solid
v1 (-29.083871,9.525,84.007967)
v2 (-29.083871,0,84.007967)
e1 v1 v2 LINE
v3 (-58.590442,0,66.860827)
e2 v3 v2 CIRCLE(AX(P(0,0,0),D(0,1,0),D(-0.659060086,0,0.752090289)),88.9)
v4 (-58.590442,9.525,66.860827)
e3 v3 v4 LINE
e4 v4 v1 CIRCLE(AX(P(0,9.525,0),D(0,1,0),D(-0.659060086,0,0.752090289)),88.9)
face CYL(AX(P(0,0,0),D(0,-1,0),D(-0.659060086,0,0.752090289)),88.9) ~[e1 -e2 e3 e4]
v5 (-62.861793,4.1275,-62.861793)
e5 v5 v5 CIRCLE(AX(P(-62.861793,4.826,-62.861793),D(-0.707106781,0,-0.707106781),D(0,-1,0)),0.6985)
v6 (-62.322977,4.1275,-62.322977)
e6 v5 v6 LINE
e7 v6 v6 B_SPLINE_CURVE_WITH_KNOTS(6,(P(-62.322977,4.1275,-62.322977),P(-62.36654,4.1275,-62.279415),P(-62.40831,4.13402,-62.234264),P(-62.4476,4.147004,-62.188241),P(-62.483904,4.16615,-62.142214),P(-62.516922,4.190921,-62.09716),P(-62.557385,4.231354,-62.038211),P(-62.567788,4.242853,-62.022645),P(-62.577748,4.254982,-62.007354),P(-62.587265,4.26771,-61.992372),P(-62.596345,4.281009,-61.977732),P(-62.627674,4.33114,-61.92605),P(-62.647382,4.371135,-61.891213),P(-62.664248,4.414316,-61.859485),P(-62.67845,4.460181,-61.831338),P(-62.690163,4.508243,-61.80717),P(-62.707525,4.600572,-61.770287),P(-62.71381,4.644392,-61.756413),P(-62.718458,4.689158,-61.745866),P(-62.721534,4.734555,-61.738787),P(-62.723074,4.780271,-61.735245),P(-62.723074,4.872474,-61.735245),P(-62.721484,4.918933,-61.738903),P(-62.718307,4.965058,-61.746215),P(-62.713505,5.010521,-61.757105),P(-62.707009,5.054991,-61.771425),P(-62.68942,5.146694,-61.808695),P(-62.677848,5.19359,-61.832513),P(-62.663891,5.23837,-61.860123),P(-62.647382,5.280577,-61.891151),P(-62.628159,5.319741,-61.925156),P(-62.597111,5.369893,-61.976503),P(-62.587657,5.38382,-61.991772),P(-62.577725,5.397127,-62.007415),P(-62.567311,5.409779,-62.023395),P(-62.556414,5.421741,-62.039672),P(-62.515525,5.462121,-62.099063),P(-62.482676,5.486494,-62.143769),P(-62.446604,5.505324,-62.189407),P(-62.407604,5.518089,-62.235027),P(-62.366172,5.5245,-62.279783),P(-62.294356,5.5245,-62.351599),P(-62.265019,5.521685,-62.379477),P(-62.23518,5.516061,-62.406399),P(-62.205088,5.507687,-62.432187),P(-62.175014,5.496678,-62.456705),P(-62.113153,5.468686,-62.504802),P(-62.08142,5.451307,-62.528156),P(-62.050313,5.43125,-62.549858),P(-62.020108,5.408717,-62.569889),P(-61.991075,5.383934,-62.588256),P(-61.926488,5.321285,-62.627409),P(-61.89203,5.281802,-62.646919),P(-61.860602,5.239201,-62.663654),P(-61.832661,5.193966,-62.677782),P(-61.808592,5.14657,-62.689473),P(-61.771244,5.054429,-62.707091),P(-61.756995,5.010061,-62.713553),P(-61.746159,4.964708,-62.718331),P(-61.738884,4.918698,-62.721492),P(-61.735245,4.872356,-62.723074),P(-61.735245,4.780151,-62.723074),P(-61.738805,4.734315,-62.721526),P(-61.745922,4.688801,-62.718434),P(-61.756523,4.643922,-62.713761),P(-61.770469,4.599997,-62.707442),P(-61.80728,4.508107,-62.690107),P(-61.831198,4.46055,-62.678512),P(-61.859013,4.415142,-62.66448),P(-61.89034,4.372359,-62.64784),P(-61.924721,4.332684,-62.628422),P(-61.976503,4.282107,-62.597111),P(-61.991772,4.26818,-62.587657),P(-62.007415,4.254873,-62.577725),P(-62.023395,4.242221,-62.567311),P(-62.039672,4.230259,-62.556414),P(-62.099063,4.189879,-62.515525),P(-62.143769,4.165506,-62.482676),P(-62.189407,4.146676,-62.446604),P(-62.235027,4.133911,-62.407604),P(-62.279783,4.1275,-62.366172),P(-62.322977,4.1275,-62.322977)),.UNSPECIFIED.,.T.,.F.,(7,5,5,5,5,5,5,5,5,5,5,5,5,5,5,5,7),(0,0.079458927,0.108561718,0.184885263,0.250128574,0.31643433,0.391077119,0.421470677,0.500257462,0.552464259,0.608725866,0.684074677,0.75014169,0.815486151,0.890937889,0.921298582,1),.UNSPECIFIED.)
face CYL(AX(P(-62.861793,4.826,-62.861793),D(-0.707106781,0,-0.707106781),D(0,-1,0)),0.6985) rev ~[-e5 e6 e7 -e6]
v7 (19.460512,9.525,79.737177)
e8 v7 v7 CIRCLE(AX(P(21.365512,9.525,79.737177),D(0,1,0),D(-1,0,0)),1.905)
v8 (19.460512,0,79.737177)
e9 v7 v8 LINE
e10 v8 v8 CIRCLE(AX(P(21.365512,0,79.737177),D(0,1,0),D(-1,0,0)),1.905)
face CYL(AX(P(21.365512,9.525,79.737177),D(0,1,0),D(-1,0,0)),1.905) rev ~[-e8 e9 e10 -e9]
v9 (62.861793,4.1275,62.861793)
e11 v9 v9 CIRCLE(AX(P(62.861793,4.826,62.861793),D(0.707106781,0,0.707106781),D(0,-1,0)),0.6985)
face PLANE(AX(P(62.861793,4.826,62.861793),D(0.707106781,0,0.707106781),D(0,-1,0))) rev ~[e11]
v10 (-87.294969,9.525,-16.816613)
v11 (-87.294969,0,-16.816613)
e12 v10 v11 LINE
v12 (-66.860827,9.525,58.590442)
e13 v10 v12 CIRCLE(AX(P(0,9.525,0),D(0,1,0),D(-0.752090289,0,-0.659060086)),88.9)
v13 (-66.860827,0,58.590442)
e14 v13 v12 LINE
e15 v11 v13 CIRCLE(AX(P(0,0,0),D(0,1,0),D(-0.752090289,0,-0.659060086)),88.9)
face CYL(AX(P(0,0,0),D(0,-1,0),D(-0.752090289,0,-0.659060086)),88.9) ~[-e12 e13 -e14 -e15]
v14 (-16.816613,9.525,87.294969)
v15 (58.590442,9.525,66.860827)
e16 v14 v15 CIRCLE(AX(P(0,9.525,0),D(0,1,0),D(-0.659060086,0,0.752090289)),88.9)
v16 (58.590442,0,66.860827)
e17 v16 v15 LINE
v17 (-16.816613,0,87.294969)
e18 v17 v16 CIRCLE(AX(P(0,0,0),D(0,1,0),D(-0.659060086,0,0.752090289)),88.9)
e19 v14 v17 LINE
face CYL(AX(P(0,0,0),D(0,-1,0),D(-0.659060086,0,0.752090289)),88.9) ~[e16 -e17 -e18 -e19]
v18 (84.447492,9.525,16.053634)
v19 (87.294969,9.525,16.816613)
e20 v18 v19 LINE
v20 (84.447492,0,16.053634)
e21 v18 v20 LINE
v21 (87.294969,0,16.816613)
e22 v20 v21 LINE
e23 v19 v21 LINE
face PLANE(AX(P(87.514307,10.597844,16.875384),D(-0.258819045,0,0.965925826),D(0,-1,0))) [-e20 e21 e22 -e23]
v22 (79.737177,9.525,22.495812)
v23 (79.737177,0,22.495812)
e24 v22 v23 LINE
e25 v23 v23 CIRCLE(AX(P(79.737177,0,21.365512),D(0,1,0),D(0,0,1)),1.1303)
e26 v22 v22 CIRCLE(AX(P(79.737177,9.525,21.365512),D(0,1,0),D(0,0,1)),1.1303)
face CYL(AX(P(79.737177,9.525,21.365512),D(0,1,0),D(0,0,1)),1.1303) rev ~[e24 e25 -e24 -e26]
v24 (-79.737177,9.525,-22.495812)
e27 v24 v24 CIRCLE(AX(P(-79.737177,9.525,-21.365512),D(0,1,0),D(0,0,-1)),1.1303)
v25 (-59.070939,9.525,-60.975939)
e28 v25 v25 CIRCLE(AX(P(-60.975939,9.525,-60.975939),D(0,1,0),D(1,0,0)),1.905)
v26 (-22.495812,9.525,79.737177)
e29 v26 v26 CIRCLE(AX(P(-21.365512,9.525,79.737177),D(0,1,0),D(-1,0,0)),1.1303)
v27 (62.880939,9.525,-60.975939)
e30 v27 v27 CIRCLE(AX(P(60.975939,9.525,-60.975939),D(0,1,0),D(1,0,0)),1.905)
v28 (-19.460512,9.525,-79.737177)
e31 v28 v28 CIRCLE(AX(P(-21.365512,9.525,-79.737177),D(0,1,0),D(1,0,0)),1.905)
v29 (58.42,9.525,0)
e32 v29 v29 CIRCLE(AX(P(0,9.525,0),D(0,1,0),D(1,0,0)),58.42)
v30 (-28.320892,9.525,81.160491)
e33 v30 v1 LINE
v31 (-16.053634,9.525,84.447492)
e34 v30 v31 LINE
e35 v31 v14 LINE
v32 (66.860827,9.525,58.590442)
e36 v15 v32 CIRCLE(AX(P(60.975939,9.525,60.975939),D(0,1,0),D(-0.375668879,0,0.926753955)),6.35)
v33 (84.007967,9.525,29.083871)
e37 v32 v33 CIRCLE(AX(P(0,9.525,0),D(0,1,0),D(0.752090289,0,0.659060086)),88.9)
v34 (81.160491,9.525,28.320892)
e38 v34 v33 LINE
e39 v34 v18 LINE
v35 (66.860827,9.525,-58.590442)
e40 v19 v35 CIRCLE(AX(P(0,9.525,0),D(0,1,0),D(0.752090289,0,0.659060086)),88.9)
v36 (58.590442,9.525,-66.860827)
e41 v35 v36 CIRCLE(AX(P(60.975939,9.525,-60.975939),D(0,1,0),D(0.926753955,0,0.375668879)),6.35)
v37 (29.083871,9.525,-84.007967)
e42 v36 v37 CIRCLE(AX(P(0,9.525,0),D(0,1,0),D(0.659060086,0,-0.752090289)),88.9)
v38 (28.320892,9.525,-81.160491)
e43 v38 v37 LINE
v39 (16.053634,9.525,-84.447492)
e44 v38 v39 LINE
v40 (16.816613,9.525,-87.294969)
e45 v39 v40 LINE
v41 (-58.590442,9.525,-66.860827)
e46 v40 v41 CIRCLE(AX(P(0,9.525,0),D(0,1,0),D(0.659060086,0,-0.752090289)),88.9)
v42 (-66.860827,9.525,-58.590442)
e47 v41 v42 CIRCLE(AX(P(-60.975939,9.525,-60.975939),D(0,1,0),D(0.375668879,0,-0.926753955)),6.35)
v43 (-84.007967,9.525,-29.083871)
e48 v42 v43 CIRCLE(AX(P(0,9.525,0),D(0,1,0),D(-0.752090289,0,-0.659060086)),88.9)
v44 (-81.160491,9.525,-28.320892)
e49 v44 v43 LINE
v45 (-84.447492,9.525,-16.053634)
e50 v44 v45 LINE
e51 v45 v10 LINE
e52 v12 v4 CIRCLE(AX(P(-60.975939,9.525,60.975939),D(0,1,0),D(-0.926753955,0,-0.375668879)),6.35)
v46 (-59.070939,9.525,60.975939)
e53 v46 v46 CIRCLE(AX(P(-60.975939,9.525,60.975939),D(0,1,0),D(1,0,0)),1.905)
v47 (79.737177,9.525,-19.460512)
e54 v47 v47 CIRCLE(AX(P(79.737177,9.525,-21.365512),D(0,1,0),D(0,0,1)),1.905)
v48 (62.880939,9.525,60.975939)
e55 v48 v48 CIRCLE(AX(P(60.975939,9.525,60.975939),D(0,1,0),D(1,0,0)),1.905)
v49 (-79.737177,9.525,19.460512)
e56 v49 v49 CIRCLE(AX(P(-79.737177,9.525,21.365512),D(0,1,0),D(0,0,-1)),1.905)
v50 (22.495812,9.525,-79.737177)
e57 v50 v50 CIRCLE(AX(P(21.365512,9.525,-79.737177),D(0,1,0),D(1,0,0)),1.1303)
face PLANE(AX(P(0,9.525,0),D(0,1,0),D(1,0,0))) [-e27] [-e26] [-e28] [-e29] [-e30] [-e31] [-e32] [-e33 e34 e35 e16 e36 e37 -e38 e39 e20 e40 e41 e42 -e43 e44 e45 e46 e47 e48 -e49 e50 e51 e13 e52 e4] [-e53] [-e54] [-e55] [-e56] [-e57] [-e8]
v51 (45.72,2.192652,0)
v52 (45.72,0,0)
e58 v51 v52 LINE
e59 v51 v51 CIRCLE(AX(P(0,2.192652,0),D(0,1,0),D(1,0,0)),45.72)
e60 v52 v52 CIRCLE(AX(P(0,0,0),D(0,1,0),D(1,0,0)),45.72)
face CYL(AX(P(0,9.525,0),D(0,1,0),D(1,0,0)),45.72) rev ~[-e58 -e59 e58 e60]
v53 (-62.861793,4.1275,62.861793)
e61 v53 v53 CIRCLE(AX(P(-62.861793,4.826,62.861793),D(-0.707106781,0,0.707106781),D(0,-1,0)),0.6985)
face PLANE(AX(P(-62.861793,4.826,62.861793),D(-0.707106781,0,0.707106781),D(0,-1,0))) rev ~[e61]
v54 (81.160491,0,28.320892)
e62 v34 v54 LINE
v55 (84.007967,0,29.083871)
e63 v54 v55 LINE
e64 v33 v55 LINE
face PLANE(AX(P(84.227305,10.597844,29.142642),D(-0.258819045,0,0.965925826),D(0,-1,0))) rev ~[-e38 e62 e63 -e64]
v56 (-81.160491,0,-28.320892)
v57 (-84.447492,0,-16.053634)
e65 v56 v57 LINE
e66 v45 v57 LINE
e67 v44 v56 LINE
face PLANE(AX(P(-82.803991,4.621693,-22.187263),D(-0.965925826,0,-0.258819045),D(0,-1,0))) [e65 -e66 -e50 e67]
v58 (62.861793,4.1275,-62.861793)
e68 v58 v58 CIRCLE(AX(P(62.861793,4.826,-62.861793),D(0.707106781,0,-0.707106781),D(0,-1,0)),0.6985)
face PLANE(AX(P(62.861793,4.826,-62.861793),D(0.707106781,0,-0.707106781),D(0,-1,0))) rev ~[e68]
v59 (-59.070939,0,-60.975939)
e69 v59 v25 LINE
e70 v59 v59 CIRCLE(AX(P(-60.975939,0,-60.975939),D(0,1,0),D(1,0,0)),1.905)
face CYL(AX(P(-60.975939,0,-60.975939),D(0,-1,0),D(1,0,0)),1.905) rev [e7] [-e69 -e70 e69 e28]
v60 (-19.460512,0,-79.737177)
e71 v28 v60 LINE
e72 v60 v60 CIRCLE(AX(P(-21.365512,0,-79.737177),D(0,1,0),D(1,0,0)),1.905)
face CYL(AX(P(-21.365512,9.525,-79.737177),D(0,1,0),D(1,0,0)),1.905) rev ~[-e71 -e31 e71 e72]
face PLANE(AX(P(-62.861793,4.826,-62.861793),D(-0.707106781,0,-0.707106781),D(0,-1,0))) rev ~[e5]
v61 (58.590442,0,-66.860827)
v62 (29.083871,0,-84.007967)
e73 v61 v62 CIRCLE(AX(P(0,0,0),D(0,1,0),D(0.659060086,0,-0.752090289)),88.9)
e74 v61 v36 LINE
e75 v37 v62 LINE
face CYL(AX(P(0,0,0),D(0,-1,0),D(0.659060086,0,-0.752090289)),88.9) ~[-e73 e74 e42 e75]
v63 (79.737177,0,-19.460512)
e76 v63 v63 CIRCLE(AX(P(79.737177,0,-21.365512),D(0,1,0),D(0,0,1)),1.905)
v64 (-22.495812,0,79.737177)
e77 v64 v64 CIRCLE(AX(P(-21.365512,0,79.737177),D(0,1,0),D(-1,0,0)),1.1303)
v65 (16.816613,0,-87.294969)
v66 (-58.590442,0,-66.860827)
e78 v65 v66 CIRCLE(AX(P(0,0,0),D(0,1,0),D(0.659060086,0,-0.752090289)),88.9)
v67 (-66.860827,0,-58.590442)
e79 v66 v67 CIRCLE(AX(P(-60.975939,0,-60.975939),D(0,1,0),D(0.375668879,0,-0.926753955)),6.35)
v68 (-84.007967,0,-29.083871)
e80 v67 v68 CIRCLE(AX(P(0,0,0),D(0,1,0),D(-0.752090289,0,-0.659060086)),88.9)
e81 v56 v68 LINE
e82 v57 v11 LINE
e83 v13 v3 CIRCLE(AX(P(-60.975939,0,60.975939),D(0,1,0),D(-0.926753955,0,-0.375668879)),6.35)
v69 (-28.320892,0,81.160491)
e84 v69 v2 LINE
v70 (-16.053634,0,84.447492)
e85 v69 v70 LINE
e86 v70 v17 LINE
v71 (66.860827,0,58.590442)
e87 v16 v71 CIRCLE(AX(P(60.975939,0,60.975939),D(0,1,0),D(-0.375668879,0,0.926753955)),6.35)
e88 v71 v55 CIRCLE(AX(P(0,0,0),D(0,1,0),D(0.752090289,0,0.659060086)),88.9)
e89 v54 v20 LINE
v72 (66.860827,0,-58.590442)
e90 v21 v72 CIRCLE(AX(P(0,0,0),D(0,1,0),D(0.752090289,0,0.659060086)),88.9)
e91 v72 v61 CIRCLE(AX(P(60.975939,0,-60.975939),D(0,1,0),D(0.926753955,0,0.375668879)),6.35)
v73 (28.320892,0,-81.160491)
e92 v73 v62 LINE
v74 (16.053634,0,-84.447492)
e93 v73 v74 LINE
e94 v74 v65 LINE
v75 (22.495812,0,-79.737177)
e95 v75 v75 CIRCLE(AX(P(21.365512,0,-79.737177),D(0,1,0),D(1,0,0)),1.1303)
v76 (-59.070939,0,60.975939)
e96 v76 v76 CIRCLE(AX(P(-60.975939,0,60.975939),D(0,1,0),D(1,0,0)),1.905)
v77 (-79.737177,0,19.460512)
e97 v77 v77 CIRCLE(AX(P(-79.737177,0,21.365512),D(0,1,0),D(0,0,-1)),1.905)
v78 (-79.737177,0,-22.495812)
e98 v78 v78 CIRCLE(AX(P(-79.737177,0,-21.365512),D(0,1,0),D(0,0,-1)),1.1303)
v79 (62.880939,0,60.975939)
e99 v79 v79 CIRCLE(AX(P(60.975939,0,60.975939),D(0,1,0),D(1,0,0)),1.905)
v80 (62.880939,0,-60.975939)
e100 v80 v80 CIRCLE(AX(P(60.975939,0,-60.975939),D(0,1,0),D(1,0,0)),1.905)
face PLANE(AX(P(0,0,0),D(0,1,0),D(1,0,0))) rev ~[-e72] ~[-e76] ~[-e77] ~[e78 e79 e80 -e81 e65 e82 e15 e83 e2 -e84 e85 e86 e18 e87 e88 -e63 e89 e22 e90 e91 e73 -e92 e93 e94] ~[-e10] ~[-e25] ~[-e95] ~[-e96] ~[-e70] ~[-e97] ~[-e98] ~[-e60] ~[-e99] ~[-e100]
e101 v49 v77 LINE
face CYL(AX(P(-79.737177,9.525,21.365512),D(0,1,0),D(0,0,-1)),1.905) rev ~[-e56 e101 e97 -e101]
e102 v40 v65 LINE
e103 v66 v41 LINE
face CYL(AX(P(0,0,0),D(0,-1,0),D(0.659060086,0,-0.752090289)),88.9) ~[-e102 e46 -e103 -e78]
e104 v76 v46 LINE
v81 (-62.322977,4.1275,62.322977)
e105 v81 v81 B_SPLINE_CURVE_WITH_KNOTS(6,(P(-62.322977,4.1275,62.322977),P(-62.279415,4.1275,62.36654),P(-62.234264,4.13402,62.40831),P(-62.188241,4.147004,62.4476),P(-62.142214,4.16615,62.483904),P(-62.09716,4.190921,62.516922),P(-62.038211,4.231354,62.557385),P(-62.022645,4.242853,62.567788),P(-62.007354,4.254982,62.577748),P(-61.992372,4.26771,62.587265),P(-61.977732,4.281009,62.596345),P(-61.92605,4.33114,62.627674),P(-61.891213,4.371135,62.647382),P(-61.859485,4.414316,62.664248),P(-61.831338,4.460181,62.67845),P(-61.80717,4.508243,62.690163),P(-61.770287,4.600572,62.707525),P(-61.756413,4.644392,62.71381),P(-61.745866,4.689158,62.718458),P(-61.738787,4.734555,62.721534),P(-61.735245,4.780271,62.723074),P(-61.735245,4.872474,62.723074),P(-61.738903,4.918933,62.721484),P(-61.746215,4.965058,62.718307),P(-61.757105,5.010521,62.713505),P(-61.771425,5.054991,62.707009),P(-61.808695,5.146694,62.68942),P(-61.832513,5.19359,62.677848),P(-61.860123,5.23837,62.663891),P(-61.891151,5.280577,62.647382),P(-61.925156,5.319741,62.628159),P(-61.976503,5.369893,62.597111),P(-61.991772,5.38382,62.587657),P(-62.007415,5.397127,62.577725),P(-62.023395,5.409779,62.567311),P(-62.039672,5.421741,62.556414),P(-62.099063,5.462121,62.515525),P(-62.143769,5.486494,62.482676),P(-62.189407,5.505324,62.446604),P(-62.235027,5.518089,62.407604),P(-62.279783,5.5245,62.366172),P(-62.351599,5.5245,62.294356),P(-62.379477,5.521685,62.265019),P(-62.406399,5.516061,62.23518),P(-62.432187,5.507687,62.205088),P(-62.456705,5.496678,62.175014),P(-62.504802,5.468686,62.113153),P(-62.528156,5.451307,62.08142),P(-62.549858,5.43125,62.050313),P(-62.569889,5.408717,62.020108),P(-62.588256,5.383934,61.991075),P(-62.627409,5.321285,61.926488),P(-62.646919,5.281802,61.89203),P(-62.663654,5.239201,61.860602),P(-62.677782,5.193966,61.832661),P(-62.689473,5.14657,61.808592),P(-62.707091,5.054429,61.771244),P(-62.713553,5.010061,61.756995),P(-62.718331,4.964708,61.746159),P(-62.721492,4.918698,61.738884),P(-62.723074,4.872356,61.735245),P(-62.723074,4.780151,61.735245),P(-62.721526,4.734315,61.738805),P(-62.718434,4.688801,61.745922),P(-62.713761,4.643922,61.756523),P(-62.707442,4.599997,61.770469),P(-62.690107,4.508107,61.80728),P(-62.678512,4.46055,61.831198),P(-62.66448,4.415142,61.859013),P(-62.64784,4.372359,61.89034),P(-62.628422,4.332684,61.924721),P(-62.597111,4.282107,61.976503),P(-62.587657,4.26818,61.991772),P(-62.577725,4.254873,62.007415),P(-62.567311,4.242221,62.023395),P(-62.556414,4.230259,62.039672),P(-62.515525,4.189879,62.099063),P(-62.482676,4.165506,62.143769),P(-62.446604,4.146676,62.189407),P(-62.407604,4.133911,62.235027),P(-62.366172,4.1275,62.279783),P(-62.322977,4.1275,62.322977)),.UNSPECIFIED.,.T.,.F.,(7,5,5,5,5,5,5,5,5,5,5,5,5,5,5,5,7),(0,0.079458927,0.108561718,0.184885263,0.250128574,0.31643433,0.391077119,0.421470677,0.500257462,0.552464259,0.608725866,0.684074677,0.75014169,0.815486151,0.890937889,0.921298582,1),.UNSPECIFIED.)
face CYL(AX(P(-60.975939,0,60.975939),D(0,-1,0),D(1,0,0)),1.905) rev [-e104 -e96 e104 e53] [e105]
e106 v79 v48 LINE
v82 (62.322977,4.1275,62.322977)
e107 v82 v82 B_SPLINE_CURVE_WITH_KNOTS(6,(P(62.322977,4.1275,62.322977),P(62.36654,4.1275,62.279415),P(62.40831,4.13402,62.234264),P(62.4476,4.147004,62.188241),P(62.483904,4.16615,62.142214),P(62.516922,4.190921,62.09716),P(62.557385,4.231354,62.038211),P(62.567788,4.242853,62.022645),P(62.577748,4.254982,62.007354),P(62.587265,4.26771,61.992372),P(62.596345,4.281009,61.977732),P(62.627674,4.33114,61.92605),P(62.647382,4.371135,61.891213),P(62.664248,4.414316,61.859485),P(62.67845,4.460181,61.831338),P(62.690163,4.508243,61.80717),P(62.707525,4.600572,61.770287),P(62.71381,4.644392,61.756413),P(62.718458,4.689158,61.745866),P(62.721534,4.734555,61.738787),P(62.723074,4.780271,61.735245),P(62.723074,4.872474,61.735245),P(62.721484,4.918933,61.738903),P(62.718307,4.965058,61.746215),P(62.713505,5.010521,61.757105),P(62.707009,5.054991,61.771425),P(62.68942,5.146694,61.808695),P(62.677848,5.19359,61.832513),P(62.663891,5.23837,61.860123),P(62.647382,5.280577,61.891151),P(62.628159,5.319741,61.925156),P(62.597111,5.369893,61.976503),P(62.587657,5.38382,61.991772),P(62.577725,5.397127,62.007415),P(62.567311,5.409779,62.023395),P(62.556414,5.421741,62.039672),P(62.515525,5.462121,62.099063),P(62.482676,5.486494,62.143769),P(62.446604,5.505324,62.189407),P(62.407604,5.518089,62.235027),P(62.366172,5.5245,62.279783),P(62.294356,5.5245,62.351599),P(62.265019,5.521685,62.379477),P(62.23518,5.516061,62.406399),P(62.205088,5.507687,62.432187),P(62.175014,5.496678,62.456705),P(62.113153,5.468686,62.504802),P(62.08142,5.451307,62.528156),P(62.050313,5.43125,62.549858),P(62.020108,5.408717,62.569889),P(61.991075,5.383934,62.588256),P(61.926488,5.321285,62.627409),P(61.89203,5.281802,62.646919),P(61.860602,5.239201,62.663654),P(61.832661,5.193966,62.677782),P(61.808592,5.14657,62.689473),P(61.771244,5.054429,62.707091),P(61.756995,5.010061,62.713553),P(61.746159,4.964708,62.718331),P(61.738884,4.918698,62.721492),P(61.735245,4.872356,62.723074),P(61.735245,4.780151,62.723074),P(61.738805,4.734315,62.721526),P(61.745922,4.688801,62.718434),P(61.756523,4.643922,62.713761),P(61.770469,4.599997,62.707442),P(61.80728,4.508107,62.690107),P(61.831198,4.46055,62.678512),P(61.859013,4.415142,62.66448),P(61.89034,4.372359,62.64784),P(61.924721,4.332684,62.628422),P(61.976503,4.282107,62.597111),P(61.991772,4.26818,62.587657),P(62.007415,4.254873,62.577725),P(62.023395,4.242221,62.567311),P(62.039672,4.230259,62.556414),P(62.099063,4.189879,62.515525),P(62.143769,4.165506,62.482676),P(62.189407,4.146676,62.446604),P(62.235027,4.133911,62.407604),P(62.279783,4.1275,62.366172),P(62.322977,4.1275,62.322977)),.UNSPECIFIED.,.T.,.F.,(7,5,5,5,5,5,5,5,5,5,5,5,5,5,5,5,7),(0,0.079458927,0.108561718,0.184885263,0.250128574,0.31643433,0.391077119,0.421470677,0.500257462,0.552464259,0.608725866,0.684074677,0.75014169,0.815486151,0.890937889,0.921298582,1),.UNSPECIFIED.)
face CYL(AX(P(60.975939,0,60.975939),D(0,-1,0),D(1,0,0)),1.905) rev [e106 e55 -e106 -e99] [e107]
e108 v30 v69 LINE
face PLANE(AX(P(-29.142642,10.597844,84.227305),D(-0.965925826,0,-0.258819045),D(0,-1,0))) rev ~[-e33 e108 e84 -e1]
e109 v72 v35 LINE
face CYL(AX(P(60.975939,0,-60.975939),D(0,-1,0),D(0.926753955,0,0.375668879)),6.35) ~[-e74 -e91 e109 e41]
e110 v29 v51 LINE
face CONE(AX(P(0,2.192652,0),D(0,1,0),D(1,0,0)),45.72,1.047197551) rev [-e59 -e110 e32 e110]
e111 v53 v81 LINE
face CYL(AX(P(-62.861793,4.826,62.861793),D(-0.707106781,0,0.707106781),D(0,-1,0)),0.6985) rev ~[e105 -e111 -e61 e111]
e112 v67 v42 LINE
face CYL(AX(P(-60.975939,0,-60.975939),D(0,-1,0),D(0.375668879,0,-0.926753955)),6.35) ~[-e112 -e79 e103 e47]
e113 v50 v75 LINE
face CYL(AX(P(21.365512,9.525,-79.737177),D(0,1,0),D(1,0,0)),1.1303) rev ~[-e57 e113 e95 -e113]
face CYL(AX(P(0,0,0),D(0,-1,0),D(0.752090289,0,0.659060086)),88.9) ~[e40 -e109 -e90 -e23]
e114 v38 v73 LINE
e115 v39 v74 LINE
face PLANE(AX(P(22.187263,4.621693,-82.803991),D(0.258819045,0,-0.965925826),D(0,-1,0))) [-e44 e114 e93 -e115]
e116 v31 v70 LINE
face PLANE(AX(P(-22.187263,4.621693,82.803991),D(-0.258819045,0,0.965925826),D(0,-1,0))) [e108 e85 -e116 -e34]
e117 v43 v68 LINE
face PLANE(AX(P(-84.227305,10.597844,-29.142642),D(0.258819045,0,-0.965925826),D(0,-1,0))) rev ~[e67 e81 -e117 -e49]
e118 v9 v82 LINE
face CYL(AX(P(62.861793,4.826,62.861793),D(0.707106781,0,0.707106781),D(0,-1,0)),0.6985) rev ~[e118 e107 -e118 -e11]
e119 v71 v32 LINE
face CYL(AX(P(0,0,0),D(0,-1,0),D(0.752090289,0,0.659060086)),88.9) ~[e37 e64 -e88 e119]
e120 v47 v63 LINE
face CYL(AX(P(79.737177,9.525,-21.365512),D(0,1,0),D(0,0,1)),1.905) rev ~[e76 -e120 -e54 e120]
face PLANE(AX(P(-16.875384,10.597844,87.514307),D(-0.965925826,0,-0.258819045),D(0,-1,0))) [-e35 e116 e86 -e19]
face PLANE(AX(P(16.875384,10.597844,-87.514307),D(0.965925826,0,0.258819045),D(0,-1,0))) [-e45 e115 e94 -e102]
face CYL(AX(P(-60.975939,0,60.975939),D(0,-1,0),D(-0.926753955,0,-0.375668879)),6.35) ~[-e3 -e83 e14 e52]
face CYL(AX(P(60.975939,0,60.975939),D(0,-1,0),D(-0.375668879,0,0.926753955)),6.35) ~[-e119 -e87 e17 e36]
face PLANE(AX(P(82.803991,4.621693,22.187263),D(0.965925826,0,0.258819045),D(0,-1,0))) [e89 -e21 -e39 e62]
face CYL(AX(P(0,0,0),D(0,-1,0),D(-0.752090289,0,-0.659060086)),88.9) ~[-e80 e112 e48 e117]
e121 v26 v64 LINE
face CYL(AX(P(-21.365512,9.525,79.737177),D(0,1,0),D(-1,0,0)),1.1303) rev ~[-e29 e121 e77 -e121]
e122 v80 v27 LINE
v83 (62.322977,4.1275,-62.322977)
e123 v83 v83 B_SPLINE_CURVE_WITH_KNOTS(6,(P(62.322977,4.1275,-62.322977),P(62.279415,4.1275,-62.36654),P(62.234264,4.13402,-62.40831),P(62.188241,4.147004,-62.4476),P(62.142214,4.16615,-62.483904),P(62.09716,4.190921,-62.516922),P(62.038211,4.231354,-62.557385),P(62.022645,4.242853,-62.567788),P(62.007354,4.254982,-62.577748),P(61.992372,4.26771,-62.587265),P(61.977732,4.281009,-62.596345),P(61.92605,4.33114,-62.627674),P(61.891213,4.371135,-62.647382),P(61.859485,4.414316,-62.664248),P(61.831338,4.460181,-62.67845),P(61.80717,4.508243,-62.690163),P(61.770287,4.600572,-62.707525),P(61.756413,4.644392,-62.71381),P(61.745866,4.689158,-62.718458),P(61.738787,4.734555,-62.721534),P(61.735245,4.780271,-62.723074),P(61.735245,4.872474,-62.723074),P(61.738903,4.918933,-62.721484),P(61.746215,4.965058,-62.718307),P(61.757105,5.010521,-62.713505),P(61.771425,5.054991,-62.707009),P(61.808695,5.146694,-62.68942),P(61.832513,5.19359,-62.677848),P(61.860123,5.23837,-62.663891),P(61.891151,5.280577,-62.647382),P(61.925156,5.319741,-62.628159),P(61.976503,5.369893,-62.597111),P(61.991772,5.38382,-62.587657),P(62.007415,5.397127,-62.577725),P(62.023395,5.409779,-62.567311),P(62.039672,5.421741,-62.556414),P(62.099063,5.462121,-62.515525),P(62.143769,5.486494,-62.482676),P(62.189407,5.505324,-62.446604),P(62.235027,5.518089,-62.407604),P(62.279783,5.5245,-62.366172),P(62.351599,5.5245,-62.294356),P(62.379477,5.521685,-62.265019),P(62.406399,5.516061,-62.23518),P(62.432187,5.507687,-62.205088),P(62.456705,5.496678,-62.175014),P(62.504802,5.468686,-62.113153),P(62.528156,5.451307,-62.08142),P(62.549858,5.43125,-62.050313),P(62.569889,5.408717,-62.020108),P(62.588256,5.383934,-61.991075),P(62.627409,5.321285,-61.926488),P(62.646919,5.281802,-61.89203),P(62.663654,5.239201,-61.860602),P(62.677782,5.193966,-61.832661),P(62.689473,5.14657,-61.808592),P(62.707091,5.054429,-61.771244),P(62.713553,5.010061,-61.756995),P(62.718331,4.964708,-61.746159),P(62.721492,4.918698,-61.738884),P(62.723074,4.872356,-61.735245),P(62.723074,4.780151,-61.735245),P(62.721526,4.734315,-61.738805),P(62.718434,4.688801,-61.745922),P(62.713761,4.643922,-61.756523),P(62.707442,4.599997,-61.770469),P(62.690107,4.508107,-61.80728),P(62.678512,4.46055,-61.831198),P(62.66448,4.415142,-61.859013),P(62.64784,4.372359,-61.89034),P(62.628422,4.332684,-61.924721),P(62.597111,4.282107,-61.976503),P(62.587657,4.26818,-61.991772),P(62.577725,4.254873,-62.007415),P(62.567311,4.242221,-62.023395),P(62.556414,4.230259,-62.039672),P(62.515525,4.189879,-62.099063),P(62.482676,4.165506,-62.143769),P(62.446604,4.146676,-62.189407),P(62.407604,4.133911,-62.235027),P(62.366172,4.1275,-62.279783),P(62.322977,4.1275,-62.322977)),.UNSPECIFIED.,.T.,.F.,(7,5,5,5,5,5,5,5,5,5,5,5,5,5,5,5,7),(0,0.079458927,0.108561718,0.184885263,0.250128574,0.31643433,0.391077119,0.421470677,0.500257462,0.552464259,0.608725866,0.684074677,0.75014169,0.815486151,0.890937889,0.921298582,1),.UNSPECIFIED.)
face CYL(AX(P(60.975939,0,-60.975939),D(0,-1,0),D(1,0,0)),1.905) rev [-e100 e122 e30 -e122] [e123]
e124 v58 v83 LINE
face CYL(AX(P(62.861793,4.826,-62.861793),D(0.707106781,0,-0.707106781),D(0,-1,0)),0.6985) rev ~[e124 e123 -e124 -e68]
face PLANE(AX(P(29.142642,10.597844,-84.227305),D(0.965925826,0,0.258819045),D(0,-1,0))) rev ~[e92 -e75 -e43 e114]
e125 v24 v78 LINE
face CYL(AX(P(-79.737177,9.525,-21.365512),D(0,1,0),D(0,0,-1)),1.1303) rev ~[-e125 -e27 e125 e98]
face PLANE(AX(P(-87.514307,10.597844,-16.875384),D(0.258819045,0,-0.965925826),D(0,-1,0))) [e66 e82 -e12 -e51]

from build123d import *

# Parameters (mm, degrees)
SKETCH1_R           = 1.905
BOSS_EXTRUDE1_DEPTH = 9.525
SKETCH2_R           = 45.72
CUT_EXTRUDE1_DEPTH  = 12.7
SKETCH10_R          = 0.6985
CUT_EXTRUDE5_DEPTH  = 3.175
CIRPATTERN5_COUNT   = 4
CHAMFER1_SIZE       = 12.7
CHAMFER1_SIZE2      = 7.332348419
SKETCH4_R           = 1.905
CUT_EXTRUDE6_DEPTH  = 10.5250001
CIRPATTERN6_COUNT   = 4
SKETCH13_R          = 1.1303
CUT_EXTRUDE7_DEPTH  = 10.5250001
CIRPATTERN7_COUNT   = 4
SKETCH14_W          = 11.95230377
SKETCH14_H          = 12.7
CUT_EXTRUDE8_DEPTH  = 3.175
CIRPATTERN8_COUNT   = 4


with BuildPart() as part:
    # Sketch1 → Boss-Extrude1 (new body)
    with BuildSketch(Plane(origin=(0, 0, 0), x_dir=(1, 0, 0), z_dir=(0, 1, 0))):
        with BuildLine():
            ThreePointArc((-66.860826677, 58.590441679), (-88.9, 0), (-66.860826677, -58.590441679))
            ThreePointArc((-66.860826677, -58.590441679), (-65.466067123, -65.466067123), (-58.590441679, -66.860826677))
            ThreePointArc((-58.590441679, -66.860826677), (0, -88.9), (58.590441679, -66.860826677))
            ThreePointArc((58.590441679, -66.860826677), (65.466067123, -65.466067123), (66.860826677, -58.590441679))
            ThreePointArc((66.860826677, -58.590441679), (88.9, 0), (66.860826677, 58.590441679))
            ThreePointArc((66.860826677, 58.590441679), (65.466067123, 65.466067123), (58.590441679, 66.860826677))
            ThreePointArc((58.590441679, 66.860826677), (0, 88.9), (-58.590441679, 66.860826677))
            ThreePointArc((-58.590441679, 66.860826677), (-65.466067123, 65.466067123), (-66.860826677, 58.590441679))
        make_face()
        with Locations((-60.975939062, 60.975939062)):
            Circle(SKETCH1_R, mode=Mode.SUBTRACT)
        with Locations((60.975939062, 60.975939062)):
            Circle(SKETCH1_R, mode=Mode.SUBTRACT)
        with Locations((60.975939062, -60.975939062)):
            Circle(SKETCH1_R, mode=Mode.SUBTRACT)
        with Locations((-60.975939062, -60.975939062)):
            Circle(SKETCH1_R, mode=Mode.SUBTRACT)
    extrude(amount=BOSS_EXTRUDE1_DEPTH)

    # Sketch2 → Cut-Extrude1 (cut)
    with BuildSketch(Plane(origin=(0, 9.525, 0), x_dir=(1, 0, 0), z_dir=(0, 1, 0))):
        Circle(SKETCH2_R)
    extrude(amount=-CUT_EXTRUDE1_DEPTH, mode=Mode.SUBTRACT)

    # Sketch10 → Cut-Extrude5 (cut)
    with BuildSketch(Plane(origin=(-62.861792847, 0, -62.861792847), x_dir=(0, -1, 0), z_dir=(-0.707106781, 0, -0.707106781))):
        with Locations((-4.826, 0)):
            Circle(SKETCH10_R)
    cut_extrude5 = extrude(amount=-CUT_EXTRUDE5_DEPTH, mode=Mode.SUBTRACT)

    # CirPattern5: Cut-Extrude5 ×4 about axis
    cirpattern5_axis = Axis((0, 0, 0), (0, 1, 0))
    for i in range(1, CIRPATTERN5_COUNT):
        add(cut_extrude5.rotate(cirpattern5_axis, i * 360 / CIRPATTERN5_COUNT), mode=Mode.SUBTRACT)

    # Chamfer1
    chamfer1_edges = [part.edges().sort_by_distance(p)[0] for p in [
        (-45.72, 9.525, 0),
    ]]
    chamfer1_side = [part.faces().sort_by_distance(p)[0] for p in [
        (0, 9.525, -86.385528286),
    ]]
    chamfer(chamfer1_edges, length=CHAMFER1_SIZE, length2=CHAMFER1_SIZE2, reference=chamfer1_side[0])

    # Sketch4 → Cut-Extrude6 (cut, through all)
    with BuildSketch(Plane(origin=(0, 9.525, 0), x_dir=(1, 0, 0), z_dir=(0, 1, 0))):
        with Locations((-21.365512173, 79.73717696)):
            Circle(SKETCH4_R)
    cut_extrude6 = extrude(amount=-CUT_EXTRUDE6_DEPTH, mode=Mode.SUBTRACT)

    # CirPattern6: Cut-Extrude6 ×4 about axis
    cirpattern6_axis = Axis((0, 0, 0), (0, 1, 0))
    for i in range(1, CIRPATTERN6_COUNT):
        add(cut_extrude6.rotate(cirpattern6_axis, i * 360 / CIRPATTERN6_COUNT), mode=Mode.SUBTRACT)

    # Sketch13 → Cut-Extrude7 (cut, through all)
    with BuildSketch(Plane(origin=(0, 9.525, 0), x_dir=(1, 0, 0), z_dir=(0, 1, 0))):
        with Locations((21.365512173, 79.73717696)):
            Circle(SKETCH13_R)
    cut_extrude7 = extrude(amount=-CUT_EXTRUDE7_DEPTH, mode=Mode.SUBTRACT)

    # CirPattern7: Cut-Extrude7 ×4 about axis
    cirpattern7_axis = Axis((0, 0, 0), (0, 1, 0))
    for i in range(1, CIRPATTERN7_COUNT):
        add(cut_extrude7.rotate(cirpattern7_axis, i * 360 / CIRPATTERN7_COUNT), mode=Mode.SUBTRACT)

    # Sketch14 → Cut-Extrude8 (cut)
    with BuildSketch(Plane(origin=(23.00901311, 0, -85.870805957), x_dir=(0, -1, 0), z_dir=(0.258819045, 0, -0.965925826))):
        with Locations((-4.621692603, 0)):
            Rectangle(SKETCH14_W, SKETCH14_H)
    cut_extrude8 = extrude(amount=-CUT_EXTRUDE8_DEPTH, mode=Mode.SUBTRACT)

    # CirPattern8: Cut-Extrude8 ×4 about axis
    cirpattern8_axis = Axis((0, 0, 0), (0, 1, 0))
    for i in range(1, CIRPATTERN8_COUNT):
        add(cut_extrude8.rotate(cirpattern8_axis, i * 360 / CIRPATTERN8_COUNT), mode=Mode.SUBTRACT)


solid = part.part
